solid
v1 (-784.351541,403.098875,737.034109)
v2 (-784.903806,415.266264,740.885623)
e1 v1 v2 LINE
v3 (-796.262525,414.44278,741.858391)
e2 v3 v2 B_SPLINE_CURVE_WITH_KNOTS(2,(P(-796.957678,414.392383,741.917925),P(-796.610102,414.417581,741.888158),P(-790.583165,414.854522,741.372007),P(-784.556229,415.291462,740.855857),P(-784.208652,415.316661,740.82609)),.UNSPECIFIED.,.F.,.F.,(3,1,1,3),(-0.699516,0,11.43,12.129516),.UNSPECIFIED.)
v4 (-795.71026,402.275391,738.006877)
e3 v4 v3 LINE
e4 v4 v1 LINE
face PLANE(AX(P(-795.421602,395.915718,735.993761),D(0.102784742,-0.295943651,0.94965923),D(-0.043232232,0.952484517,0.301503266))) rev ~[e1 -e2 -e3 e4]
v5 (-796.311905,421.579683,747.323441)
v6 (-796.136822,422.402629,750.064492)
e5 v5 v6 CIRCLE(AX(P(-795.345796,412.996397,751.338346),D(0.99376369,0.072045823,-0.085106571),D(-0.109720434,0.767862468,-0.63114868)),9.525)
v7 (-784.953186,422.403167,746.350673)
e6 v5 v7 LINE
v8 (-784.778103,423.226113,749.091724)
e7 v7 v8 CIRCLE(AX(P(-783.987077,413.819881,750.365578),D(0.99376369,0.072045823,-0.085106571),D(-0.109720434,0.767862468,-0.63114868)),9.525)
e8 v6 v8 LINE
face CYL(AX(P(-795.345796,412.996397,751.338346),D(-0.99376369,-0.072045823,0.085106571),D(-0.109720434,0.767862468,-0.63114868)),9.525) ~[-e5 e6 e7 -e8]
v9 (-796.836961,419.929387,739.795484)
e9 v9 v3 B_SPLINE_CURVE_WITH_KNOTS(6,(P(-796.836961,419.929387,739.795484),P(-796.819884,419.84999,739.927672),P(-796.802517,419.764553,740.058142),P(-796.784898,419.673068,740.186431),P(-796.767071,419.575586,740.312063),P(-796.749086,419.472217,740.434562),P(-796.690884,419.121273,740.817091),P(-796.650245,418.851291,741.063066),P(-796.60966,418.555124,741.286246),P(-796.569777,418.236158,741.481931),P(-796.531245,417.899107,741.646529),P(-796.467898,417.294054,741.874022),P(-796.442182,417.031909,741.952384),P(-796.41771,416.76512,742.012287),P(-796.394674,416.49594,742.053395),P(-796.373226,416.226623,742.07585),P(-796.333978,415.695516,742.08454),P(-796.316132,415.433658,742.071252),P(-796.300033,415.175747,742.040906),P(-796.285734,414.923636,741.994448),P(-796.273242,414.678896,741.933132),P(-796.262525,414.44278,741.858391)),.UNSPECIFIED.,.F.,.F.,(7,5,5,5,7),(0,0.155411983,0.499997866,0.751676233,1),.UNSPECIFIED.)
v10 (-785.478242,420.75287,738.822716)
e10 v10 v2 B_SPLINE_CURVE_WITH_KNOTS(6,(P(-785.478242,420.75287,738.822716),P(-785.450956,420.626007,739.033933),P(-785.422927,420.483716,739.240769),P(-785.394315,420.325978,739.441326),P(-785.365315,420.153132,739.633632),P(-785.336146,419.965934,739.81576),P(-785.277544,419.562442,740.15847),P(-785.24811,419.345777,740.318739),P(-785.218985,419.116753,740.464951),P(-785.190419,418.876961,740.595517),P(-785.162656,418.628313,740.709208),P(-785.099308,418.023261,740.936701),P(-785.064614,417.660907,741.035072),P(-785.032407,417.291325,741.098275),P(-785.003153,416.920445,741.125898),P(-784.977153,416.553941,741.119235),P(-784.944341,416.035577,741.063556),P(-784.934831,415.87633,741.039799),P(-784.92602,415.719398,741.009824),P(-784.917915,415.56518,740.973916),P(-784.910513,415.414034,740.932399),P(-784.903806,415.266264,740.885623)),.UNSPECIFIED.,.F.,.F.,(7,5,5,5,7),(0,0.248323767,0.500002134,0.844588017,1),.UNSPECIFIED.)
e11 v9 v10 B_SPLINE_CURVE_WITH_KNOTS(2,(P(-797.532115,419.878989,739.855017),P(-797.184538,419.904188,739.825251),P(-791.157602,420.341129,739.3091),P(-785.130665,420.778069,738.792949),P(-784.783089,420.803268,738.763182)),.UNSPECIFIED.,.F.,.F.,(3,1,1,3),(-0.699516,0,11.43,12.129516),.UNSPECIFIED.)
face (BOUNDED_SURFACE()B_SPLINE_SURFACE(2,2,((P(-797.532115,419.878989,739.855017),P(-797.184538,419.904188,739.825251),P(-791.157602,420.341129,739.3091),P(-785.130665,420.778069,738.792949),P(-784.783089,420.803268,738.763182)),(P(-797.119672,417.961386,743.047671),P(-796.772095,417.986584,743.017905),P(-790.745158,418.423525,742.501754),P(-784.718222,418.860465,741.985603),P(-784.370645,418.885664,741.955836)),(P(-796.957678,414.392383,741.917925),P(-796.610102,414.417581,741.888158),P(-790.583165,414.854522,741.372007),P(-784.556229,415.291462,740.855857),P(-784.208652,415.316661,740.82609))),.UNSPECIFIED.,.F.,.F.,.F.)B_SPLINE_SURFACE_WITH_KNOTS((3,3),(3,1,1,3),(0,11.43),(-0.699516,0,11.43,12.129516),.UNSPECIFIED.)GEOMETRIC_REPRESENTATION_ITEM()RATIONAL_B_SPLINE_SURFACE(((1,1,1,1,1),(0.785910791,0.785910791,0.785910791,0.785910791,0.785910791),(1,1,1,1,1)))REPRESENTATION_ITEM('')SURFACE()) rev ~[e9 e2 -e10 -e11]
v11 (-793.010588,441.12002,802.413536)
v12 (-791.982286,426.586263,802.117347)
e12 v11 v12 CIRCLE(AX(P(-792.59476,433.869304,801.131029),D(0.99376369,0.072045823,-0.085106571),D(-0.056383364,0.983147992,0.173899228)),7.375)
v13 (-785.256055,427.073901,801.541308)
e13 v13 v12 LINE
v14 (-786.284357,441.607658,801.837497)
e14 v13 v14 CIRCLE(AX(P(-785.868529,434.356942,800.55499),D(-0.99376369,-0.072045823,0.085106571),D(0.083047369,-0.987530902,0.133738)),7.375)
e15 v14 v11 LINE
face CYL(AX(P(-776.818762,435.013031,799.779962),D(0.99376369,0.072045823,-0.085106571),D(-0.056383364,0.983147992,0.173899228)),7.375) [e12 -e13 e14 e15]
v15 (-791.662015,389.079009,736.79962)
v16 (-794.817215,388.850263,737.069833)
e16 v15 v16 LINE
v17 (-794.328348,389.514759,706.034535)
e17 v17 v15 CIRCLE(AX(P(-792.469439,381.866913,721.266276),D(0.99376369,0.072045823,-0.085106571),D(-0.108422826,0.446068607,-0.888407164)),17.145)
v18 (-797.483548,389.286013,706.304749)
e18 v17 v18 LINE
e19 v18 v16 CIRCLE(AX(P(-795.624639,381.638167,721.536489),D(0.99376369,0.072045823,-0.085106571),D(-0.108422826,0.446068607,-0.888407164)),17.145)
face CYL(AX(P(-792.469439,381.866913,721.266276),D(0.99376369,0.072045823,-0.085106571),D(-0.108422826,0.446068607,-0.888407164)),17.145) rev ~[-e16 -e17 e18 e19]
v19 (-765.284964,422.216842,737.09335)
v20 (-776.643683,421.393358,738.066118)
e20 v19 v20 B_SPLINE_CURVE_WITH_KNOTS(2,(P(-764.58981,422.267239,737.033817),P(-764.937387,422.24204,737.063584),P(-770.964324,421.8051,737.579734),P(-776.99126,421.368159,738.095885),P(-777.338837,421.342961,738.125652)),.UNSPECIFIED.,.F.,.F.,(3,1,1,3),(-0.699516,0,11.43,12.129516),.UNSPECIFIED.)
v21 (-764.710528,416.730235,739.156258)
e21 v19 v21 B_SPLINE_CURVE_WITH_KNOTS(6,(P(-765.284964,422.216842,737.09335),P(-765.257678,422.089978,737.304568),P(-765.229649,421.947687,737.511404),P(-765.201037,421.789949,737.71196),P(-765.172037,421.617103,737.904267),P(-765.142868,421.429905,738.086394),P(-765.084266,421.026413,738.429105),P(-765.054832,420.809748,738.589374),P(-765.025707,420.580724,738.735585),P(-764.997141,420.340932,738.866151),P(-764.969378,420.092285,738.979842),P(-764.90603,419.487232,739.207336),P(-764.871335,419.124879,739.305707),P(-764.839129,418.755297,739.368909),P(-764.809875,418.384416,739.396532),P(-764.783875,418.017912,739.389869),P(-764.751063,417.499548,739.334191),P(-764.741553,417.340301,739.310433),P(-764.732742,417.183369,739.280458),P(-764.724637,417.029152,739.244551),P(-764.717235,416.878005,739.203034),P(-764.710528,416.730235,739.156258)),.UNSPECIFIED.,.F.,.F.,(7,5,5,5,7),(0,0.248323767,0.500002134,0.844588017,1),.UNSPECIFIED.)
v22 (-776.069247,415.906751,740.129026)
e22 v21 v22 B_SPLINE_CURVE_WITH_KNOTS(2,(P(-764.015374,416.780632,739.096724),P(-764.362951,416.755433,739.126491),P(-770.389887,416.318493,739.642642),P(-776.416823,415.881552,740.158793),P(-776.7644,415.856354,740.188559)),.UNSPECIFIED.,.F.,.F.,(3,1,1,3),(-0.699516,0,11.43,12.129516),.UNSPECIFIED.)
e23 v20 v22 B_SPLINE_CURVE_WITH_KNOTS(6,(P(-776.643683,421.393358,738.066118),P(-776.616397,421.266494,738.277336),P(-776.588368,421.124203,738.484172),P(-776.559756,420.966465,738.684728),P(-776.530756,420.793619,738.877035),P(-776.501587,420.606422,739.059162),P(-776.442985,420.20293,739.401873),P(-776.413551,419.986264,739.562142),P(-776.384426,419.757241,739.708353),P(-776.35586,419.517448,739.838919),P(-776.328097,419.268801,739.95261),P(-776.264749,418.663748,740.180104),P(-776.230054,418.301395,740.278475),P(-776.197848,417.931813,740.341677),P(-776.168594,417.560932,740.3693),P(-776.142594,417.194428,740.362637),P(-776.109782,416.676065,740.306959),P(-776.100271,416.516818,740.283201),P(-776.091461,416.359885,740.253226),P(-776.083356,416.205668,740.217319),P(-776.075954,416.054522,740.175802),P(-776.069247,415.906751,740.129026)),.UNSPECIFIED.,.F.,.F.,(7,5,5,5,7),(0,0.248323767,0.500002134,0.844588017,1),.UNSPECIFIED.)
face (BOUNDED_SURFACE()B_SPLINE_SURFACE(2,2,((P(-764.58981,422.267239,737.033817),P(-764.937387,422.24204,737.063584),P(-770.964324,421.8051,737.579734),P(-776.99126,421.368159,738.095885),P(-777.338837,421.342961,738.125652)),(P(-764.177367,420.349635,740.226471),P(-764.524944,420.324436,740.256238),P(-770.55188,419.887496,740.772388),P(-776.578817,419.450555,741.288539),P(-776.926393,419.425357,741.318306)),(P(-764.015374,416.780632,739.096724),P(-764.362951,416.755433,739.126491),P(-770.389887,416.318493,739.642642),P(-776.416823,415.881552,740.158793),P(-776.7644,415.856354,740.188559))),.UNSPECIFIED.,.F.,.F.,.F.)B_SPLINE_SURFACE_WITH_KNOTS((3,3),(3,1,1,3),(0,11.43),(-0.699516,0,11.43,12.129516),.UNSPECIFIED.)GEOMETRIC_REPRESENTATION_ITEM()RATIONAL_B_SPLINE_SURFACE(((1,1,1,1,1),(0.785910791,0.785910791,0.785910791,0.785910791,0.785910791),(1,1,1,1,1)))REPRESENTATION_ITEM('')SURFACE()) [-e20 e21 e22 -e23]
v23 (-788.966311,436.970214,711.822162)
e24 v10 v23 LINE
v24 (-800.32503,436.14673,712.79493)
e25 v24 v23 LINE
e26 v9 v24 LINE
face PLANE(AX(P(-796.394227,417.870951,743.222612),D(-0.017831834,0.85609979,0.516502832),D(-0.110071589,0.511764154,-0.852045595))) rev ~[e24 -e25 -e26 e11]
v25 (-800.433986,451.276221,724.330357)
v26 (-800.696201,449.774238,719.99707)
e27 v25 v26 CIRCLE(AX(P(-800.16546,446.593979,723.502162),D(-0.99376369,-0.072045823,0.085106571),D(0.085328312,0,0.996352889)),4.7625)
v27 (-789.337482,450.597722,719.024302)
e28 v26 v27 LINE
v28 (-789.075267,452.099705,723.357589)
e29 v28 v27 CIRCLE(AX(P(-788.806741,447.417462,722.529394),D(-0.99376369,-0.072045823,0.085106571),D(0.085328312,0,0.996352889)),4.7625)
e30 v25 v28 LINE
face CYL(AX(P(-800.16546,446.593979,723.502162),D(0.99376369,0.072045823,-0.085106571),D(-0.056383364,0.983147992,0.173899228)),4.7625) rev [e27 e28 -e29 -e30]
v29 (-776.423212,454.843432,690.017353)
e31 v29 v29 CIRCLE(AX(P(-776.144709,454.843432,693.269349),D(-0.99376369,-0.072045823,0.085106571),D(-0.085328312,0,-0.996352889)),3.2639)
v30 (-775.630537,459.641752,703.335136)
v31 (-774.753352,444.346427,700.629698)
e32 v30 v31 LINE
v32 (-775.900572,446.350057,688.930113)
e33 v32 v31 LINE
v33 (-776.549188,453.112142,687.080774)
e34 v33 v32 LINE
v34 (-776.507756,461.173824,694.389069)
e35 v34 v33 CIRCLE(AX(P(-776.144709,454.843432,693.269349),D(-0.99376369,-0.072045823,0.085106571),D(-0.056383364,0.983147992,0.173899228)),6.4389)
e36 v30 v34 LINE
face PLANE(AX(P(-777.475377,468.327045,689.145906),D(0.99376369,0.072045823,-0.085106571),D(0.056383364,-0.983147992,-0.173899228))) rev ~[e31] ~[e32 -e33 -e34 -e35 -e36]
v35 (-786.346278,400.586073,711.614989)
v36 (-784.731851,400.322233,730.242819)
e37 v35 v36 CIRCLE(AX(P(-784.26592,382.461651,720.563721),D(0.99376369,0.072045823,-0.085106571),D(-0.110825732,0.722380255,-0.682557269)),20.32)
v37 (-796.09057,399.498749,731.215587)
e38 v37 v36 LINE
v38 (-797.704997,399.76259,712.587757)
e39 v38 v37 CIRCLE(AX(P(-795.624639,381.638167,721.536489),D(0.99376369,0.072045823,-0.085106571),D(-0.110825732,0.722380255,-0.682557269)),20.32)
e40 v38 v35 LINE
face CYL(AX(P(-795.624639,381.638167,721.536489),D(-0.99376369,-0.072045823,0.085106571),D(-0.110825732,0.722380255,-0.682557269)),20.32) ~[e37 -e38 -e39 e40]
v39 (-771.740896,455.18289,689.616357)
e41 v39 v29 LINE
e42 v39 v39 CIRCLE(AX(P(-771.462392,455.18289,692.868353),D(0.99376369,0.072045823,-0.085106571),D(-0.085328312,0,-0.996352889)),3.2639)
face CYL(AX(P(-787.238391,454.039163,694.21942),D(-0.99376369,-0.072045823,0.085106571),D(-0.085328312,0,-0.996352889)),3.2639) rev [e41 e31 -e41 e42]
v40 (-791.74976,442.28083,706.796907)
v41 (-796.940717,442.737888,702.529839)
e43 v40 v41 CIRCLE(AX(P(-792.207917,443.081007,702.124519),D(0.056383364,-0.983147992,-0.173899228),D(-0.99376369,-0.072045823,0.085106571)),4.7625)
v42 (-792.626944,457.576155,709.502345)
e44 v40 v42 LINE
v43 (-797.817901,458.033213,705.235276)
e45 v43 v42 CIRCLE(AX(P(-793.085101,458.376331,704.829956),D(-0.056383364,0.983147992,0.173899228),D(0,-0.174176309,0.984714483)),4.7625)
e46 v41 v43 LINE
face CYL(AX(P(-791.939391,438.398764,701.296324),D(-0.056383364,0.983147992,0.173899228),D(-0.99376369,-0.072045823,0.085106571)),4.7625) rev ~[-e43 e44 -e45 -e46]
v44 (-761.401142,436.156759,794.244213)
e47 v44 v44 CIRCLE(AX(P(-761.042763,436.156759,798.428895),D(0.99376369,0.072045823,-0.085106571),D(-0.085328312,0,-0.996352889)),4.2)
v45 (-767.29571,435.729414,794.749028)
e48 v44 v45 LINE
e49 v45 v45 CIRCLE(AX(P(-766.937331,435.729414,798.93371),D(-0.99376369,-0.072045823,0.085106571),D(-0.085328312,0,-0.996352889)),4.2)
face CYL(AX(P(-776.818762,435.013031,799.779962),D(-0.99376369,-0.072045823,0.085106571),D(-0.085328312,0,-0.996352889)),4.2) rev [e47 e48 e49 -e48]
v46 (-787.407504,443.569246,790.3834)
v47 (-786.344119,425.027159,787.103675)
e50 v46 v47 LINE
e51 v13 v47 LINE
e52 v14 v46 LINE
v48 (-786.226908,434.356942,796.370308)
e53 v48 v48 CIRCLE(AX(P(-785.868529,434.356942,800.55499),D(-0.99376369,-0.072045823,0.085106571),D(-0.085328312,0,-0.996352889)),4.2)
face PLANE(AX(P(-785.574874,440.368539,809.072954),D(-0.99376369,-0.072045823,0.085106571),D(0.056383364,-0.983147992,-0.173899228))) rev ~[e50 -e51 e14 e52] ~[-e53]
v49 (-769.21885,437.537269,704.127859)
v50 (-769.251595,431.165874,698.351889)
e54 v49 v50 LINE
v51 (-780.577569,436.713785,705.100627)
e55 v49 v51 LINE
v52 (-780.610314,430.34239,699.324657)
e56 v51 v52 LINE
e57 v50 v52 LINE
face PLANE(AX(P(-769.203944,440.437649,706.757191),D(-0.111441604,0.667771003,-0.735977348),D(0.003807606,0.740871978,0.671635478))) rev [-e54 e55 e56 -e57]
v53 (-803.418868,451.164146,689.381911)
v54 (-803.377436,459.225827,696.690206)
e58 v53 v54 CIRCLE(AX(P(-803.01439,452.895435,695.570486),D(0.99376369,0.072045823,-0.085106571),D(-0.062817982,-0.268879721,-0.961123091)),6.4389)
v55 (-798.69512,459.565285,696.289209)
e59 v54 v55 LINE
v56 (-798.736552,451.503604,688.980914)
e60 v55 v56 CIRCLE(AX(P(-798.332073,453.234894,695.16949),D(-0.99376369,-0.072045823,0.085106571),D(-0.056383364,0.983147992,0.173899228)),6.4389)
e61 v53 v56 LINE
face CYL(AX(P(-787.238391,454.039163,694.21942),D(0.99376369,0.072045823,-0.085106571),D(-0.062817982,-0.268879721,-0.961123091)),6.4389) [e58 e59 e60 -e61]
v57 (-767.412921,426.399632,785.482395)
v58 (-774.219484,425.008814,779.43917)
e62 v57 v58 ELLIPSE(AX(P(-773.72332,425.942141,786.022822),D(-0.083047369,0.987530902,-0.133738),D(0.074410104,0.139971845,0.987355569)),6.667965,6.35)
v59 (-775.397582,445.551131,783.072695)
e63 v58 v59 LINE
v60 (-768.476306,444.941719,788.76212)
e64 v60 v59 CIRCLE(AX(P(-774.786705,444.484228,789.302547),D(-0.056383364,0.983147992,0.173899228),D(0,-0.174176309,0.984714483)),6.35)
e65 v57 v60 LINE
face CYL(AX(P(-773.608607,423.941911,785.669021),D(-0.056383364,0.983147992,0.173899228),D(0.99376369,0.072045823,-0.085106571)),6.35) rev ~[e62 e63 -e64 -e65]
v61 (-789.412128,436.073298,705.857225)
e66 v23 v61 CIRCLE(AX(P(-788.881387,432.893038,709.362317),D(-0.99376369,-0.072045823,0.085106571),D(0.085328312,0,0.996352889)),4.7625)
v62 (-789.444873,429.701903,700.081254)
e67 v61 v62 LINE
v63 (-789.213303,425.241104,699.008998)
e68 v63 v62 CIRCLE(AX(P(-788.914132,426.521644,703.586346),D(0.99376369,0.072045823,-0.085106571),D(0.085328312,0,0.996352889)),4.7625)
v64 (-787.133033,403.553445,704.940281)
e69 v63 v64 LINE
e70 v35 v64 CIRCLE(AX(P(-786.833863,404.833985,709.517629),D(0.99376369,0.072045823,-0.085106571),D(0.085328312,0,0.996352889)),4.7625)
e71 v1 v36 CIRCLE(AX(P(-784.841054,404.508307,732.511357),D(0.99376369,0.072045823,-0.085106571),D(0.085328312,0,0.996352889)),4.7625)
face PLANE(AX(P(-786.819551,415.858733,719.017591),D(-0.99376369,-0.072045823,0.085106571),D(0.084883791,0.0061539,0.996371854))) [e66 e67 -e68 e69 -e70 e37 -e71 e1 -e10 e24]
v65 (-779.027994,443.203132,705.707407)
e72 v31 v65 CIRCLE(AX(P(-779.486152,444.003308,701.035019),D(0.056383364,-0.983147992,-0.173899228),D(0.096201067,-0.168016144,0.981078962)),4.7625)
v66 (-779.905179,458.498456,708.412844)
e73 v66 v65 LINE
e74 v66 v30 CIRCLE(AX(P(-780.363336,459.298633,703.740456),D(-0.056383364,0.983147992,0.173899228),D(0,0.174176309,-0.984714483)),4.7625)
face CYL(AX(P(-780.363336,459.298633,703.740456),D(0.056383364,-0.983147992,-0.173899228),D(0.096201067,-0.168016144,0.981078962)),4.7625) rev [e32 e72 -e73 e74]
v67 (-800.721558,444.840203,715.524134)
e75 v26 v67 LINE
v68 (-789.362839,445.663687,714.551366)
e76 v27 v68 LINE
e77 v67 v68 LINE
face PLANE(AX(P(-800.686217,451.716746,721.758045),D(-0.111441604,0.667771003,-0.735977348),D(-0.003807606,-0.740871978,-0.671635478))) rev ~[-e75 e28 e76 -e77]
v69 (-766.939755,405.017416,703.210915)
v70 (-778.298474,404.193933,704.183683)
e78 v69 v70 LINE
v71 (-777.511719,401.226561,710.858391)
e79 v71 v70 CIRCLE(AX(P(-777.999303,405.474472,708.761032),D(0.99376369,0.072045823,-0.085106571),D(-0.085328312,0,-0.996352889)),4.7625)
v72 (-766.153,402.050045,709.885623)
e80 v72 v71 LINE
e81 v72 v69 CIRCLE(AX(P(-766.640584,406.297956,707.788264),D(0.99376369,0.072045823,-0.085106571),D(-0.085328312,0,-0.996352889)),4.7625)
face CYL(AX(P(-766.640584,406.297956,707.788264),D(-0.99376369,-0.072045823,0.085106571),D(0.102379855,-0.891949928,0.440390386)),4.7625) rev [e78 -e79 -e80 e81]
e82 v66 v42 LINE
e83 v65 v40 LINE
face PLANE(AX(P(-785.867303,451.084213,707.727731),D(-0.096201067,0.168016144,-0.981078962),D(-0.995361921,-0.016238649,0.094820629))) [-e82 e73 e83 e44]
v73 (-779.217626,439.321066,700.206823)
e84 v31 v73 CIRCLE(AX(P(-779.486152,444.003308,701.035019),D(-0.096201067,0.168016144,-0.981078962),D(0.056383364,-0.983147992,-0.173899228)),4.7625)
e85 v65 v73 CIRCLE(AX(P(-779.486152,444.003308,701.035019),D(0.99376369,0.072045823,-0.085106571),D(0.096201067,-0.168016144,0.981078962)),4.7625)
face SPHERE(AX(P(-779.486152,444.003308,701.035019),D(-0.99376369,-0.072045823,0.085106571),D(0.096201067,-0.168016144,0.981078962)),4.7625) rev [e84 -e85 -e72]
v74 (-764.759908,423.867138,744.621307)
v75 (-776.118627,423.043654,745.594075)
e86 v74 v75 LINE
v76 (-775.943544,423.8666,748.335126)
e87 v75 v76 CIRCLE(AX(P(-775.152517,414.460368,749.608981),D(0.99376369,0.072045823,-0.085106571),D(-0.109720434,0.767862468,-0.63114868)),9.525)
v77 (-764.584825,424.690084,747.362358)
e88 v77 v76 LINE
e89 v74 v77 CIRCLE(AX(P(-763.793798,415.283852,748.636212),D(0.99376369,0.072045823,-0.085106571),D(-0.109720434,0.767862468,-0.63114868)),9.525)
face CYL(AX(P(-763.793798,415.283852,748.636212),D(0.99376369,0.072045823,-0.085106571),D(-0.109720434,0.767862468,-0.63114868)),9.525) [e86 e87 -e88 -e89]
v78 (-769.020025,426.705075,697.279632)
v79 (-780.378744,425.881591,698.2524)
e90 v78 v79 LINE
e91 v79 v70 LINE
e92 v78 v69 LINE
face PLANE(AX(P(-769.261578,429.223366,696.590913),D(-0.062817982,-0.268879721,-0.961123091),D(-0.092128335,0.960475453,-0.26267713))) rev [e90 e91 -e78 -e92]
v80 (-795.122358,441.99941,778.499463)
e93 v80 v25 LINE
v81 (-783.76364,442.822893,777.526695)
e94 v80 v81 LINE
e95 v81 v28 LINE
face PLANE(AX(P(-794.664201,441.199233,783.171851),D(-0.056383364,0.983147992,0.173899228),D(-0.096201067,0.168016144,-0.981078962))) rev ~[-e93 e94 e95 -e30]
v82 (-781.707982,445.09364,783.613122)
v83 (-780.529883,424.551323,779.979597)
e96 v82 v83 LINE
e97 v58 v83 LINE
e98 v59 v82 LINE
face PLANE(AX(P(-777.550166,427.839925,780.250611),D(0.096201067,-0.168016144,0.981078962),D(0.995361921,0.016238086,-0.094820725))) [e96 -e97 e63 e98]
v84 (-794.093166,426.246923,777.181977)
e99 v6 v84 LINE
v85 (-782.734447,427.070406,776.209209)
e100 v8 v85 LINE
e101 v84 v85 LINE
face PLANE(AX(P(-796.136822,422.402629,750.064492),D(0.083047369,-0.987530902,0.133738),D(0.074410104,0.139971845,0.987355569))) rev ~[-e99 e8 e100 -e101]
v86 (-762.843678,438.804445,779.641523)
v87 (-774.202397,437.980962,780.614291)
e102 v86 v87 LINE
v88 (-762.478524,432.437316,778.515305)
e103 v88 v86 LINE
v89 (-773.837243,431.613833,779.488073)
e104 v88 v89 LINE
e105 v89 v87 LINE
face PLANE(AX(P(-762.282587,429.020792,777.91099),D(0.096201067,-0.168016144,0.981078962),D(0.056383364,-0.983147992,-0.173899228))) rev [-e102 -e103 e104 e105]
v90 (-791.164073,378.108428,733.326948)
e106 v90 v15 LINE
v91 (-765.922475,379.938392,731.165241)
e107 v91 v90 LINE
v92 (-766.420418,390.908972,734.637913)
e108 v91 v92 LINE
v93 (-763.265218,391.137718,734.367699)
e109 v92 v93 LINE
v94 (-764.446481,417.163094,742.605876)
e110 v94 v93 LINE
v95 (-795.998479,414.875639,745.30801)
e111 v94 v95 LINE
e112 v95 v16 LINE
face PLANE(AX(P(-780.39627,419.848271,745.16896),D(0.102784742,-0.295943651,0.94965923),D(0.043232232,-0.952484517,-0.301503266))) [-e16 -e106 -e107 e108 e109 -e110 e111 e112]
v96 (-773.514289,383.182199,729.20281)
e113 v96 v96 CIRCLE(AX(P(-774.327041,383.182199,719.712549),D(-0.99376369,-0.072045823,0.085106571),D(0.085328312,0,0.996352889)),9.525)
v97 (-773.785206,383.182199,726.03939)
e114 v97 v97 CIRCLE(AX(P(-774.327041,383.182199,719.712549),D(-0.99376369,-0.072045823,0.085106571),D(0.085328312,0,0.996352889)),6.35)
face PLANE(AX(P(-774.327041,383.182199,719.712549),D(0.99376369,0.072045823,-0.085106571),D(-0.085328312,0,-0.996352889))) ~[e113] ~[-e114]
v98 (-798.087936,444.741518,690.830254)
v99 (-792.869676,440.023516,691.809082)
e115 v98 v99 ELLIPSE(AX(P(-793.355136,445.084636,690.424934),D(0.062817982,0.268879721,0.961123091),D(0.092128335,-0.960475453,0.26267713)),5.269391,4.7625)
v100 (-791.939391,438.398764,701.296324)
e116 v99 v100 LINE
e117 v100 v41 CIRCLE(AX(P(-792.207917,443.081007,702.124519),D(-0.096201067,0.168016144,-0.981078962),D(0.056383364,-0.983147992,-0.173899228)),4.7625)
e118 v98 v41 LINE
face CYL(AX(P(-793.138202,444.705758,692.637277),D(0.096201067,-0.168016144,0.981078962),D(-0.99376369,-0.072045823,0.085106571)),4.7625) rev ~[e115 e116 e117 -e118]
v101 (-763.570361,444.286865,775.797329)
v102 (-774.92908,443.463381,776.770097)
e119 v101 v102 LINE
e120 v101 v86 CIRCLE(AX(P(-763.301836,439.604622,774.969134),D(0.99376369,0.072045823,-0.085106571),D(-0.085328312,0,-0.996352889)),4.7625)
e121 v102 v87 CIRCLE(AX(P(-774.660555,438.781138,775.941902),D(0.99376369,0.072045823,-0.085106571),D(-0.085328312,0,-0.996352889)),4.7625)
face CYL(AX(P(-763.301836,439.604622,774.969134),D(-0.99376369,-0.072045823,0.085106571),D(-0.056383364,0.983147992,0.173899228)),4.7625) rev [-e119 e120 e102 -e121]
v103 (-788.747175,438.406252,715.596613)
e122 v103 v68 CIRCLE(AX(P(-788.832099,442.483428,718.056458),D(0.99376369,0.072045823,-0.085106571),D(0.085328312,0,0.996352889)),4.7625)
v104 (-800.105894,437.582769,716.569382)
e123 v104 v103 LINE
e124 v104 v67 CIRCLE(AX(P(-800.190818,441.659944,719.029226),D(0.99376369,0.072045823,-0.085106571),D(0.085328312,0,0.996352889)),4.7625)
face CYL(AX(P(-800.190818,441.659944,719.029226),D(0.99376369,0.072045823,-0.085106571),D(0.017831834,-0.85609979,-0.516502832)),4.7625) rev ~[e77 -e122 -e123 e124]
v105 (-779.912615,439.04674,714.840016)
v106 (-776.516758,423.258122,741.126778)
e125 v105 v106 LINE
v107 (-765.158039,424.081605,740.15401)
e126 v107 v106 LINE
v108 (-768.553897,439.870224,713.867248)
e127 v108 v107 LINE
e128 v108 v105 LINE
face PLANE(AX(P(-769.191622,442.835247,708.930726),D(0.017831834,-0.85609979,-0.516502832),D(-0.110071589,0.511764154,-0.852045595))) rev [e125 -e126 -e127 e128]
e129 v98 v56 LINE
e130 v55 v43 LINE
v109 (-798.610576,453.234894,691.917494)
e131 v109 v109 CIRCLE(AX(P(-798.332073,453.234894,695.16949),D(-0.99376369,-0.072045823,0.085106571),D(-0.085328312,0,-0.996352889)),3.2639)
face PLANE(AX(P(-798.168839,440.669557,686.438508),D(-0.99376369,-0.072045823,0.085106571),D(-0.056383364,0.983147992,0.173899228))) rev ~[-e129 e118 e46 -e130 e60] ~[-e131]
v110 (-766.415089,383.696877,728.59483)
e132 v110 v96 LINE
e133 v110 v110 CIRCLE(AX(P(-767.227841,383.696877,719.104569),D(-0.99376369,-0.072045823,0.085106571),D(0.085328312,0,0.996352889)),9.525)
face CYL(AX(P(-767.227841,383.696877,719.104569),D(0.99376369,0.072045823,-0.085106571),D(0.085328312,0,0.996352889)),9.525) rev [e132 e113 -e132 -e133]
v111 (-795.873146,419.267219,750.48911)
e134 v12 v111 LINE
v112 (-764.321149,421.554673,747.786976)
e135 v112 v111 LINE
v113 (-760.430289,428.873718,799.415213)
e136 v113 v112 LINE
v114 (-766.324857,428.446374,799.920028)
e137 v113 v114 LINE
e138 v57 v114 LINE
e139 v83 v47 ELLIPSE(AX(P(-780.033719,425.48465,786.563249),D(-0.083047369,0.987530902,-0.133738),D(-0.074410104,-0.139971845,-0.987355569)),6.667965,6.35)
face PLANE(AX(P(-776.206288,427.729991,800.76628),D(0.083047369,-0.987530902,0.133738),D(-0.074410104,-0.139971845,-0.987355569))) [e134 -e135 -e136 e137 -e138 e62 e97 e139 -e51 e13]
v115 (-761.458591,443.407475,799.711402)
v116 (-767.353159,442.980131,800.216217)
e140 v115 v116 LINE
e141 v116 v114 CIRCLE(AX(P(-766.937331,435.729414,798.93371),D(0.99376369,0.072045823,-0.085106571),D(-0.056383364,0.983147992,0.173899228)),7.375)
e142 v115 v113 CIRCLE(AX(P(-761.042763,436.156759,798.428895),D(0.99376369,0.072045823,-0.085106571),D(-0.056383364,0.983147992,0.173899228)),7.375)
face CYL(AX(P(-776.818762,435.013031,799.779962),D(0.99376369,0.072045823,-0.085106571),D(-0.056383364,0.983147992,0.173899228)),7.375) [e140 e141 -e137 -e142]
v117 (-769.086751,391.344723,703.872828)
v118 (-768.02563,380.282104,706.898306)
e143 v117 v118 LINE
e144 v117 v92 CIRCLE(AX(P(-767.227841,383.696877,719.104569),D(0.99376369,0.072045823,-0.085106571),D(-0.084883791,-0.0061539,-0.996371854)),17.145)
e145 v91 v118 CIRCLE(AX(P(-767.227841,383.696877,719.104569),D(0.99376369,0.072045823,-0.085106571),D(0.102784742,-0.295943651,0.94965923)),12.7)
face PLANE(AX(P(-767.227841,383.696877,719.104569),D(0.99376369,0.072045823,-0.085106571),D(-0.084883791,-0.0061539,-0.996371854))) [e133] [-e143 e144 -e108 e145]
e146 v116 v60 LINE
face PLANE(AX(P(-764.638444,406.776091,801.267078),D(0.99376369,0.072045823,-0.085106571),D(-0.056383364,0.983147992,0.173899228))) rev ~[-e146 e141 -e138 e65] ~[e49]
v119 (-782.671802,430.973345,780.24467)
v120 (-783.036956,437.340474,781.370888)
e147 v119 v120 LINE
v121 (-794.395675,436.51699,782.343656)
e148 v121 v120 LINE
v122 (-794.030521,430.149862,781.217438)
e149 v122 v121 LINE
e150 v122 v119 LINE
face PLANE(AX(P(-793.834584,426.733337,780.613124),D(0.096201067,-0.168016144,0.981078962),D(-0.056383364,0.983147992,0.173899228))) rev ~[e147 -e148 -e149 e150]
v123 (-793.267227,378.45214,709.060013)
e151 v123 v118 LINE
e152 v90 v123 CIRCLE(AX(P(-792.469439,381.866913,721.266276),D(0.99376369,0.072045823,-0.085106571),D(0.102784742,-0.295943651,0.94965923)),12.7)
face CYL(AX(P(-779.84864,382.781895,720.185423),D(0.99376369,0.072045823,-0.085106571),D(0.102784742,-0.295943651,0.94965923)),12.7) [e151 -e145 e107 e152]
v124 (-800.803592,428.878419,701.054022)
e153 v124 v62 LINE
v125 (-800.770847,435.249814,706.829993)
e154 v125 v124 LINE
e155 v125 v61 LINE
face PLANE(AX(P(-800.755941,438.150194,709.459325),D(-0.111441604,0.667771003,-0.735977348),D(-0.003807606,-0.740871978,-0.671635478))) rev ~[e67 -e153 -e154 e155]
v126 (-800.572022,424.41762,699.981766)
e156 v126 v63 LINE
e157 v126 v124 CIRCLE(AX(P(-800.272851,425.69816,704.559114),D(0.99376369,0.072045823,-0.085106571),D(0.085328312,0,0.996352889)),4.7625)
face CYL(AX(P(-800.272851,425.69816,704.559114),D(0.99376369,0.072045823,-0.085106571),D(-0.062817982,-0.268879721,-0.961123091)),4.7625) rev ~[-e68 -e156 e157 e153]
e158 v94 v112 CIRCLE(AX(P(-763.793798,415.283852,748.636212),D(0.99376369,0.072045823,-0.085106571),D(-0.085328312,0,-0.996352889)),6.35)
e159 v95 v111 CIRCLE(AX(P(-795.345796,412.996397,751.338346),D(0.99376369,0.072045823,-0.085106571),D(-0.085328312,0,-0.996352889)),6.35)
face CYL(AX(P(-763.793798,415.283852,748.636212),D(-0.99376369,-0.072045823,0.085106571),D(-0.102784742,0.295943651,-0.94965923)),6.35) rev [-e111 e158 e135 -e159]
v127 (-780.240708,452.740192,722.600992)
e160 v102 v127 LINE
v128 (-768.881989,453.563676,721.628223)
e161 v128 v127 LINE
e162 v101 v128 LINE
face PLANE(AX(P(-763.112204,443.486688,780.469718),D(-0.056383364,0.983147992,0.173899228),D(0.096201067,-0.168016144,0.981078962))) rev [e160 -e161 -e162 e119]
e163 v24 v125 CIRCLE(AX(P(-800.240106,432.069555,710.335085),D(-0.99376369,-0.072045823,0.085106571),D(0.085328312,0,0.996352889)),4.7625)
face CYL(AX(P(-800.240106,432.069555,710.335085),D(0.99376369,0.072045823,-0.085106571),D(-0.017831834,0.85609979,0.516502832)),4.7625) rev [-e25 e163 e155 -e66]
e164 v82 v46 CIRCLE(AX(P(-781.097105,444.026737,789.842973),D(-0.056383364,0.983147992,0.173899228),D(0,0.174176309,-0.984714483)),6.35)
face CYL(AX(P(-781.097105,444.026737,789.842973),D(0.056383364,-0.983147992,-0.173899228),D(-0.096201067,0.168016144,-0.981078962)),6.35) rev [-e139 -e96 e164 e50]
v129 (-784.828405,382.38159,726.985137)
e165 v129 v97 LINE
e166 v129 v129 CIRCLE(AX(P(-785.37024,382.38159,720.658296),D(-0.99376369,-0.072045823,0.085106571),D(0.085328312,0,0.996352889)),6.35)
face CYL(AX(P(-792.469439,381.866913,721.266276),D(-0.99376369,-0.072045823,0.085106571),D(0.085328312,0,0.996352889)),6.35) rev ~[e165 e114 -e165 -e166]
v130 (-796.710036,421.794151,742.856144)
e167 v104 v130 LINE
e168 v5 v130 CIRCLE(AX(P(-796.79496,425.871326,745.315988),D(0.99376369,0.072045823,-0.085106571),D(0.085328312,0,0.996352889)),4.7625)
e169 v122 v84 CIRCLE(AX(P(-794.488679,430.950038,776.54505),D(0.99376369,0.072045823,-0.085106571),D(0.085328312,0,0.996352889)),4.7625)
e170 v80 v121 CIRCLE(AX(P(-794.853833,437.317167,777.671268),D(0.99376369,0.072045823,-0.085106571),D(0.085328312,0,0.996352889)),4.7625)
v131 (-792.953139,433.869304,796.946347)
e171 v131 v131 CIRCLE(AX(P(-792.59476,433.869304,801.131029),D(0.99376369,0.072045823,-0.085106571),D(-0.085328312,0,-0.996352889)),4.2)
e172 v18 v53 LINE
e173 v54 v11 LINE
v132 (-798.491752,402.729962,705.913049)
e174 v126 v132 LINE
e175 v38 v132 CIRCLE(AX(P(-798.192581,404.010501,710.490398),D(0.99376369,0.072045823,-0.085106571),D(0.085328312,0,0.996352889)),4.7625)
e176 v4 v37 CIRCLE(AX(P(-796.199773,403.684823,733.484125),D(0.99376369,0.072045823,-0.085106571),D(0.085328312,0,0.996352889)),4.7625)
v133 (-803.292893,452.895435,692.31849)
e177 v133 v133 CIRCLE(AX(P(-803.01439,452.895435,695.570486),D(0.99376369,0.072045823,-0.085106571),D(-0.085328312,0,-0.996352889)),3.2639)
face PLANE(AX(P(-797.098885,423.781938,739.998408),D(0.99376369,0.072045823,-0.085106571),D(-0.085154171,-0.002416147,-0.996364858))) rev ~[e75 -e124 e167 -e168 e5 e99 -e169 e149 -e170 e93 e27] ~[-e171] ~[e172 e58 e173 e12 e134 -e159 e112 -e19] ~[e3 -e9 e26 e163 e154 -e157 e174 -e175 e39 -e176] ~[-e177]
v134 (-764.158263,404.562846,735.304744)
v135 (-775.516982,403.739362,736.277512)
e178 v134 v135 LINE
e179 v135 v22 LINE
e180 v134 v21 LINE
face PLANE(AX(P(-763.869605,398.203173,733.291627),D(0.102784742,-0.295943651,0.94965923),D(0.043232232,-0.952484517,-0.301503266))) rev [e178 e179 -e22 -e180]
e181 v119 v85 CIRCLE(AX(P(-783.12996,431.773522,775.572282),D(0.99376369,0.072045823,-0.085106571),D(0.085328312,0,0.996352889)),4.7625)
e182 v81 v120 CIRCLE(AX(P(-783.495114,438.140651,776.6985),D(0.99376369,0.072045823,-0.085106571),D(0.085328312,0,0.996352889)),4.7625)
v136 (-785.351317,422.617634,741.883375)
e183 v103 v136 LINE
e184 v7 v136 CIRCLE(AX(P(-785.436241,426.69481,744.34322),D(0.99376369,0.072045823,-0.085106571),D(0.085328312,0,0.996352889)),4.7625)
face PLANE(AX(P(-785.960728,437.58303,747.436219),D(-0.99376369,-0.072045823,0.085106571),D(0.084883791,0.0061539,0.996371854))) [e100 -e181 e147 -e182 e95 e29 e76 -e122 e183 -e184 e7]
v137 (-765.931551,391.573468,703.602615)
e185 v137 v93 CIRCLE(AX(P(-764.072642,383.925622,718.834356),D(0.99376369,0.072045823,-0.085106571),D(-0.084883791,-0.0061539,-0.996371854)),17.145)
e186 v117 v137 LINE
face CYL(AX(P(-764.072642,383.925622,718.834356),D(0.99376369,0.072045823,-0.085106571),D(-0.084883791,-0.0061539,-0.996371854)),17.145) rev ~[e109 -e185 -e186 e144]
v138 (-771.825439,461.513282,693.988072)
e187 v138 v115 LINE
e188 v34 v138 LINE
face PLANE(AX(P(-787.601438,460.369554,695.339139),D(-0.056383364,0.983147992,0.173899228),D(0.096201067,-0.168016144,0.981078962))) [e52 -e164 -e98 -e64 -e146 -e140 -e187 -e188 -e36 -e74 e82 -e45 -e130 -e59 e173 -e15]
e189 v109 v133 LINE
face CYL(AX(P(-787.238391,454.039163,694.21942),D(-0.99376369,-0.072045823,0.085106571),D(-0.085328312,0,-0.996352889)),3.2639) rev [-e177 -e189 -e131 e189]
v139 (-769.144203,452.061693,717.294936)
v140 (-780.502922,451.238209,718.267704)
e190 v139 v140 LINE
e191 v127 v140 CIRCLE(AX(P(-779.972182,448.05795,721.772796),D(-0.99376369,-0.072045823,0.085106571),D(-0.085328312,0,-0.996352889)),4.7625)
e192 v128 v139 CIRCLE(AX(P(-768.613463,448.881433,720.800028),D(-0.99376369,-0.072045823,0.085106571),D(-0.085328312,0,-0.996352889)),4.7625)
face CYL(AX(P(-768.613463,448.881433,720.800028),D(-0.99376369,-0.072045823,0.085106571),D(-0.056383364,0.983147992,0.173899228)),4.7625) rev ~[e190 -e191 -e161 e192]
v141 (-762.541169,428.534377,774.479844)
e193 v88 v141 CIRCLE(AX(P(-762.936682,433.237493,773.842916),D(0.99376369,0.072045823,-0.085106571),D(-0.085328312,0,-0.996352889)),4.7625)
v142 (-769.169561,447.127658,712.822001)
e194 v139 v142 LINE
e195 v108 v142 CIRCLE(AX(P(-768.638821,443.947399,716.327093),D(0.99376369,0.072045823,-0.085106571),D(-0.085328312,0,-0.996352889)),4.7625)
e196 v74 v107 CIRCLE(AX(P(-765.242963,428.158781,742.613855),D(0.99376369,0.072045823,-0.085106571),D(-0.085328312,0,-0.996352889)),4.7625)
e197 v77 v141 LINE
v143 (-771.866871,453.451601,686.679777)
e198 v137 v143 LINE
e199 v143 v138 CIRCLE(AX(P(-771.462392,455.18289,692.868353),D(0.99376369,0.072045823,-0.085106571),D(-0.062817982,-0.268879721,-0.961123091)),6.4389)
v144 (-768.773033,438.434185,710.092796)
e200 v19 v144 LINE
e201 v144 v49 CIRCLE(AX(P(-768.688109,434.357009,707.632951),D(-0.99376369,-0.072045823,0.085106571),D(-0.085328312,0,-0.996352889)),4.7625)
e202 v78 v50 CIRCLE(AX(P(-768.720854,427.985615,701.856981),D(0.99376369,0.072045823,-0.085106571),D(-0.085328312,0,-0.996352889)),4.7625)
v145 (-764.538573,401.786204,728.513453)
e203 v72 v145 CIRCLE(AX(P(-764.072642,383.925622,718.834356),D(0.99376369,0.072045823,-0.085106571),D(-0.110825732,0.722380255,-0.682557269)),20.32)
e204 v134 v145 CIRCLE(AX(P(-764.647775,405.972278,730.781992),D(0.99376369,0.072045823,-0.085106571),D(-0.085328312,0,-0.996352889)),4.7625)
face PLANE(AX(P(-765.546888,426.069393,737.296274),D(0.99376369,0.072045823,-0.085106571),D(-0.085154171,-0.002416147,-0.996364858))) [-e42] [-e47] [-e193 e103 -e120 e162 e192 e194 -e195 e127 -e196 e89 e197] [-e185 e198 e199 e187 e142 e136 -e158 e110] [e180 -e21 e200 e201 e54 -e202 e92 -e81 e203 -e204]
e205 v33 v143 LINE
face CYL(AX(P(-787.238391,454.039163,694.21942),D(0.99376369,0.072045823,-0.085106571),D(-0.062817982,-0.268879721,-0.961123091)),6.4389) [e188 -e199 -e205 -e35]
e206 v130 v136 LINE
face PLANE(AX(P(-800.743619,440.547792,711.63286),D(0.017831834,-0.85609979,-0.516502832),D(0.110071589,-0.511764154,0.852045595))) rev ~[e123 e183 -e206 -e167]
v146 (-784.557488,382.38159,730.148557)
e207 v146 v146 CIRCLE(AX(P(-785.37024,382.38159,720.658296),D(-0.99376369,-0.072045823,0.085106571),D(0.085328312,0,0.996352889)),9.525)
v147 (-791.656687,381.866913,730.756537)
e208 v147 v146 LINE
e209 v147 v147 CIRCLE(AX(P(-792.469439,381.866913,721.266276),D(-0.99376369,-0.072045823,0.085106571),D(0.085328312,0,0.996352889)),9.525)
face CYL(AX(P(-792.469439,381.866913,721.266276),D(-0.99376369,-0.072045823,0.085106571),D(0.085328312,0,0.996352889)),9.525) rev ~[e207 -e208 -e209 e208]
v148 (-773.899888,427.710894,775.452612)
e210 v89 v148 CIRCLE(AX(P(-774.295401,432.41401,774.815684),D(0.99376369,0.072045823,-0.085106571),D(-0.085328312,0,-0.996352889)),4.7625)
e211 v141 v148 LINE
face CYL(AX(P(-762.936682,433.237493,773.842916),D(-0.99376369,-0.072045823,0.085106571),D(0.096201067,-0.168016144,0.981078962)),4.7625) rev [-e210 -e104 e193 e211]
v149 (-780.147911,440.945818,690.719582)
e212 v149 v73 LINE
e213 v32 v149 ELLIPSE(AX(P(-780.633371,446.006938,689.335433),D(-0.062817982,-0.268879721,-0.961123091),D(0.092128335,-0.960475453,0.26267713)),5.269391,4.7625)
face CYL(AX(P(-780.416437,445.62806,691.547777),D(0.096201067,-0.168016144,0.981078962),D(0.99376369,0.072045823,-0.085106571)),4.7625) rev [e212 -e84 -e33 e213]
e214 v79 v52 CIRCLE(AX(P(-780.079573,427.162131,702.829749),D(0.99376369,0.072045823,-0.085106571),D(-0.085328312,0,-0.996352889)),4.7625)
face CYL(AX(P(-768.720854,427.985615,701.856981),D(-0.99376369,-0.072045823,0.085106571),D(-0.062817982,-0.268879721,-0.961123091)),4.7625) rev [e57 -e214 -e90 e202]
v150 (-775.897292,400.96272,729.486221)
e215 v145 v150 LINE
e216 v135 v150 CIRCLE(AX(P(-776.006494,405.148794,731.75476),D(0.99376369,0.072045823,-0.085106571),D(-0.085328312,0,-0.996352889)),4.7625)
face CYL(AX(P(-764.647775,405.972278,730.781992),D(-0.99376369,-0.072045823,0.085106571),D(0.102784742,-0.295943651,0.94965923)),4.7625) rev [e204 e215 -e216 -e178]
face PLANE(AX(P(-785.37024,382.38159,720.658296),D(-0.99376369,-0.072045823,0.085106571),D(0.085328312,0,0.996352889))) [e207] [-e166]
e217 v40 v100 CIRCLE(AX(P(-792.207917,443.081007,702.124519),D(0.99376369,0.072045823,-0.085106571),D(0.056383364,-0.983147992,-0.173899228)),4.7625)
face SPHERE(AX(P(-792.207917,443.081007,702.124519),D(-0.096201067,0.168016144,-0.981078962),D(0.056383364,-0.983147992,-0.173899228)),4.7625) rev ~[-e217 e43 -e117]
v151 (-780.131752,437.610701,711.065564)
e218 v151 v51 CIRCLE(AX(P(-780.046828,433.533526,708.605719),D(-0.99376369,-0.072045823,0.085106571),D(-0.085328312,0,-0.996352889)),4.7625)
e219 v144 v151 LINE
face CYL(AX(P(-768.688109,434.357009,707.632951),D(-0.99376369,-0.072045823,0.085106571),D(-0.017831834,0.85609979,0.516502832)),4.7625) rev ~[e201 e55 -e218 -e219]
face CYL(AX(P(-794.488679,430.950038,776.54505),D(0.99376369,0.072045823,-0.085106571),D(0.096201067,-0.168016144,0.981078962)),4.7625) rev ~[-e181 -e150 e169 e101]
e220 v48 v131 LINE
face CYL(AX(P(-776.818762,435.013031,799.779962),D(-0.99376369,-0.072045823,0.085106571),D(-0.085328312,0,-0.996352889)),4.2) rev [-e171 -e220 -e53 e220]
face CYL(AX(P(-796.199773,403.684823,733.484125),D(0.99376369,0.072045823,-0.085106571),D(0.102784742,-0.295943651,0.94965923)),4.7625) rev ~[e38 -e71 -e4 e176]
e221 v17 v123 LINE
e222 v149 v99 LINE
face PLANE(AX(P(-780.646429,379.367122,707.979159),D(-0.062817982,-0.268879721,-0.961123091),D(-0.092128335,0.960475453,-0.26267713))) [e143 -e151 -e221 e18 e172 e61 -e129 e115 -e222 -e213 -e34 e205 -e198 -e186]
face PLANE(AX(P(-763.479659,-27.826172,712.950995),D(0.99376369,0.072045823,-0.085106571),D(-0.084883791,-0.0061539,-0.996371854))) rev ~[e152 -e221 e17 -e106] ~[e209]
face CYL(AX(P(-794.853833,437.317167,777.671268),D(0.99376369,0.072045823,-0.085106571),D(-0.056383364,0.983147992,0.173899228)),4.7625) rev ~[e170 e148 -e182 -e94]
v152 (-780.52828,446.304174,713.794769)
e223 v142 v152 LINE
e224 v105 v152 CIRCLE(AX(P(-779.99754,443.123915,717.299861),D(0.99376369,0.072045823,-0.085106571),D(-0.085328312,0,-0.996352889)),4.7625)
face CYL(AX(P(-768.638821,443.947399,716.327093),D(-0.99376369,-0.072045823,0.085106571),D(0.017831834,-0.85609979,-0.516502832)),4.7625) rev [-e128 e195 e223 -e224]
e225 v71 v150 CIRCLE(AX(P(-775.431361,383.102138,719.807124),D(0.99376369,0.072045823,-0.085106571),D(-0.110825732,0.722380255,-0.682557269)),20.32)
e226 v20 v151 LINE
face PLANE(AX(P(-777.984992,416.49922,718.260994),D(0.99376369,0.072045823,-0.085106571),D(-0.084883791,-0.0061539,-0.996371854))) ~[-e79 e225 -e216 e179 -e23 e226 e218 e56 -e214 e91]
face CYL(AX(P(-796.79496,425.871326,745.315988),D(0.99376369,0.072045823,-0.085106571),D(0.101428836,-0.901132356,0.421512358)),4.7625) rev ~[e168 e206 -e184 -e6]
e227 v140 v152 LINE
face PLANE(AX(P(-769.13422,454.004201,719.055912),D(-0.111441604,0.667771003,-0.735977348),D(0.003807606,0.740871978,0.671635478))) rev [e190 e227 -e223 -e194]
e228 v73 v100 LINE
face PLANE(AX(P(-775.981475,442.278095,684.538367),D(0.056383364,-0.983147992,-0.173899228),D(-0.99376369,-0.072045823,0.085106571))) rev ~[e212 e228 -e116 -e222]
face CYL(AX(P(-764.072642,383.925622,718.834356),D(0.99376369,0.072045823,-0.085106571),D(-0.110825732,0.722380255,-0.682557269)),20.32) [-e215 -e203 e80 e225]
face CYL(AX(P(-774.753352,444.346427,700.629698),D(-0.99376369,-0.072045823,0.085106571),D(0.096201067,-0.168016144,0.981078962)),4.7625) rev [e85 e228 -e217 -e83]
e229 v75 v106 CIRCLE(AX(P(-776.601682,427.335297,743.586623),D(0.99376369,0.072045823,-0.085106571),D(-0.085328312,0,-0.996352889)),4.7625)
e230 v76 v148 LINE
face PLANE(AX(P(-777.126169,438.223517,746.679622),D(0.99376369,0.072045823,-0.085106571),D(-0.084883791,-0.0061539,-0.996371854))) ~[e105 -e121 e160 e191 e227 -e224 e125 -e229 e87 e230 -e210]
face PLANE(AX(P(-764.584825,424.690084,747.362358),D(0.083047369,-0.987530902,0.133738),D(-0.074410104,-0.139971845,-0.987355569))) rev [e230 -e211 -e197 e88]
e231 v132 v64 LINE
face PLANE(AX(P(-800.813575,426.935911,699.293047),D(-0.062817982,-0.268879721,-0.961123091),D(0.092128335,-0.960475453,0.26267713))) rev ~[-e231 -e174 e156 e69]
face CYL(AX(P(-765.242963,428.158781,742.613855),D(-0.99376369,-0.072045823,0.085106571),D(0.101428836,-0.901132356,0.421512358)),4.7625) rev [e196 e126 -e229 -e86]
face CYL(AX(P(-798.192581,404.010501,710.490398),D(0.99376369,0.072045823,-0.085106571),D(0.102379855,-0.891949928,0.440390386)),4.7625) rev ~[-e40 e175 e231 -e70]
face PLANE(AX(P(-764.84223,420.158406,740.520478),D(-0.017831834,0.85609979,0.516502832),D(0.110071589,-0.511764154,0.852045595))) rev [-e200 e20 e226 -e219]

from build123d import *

# Parameters (mm, degrees)
SKETCH1_R               = 3.263900000000121
SKETCH1_R_2             = 4.199999999999976
BOSS_EXTRUDE1_DEPTH     = 15.875
FILLET7_R               = 6.35
CUT_EXTRUDE6_DEPTH      = 25.4
FILLET8_R               = 6.35
CUT_EXTRUDE8_DEPTH      = 20.32
CUT_EXTRUDE9_DEPTH      = 906.5663752758251
CUT_EXTRUDE9_DEPTH_BACK = 3.175
CUT_EXTRUDE10_DEPTH     = 11.43
SKETCH29_R              = 6.349999999999941
CUT_EXTRUDE11_DEPTH     = 906.4543212392226
SKETCH30_R              = 9.525000000000018
CUT_EXTRUDE12_DEPTH     = 7.14375
FILLET10_R              = 4.7625
FILLET10_OF_MIRROR9_R   = 4.7625
SKETCH33_R              = 17.144999999999648
CUT_EXTRUDE14_DEPTH     = 3.175
FILLET11_R              = 4.7625


with BuildPart() as part:
    # Sketch1 → Boss-Extrude1 (new, symmetric)
    with BuildSketch(Plane(origin=(-803.6566332789141, -58.26345281012812, 68.82567852426239), x_dir=(-0.08515417095162939, -0.00241614660156225, -0.9963648575723355), z_dir=(0.9937636896807375, 0.07204582335356381, -0.08510657089457987))):
        with BuildLine():
            ThreePointArc((-664.2038450226969, 436.8184776127322), (-651.8745198787159, 427.9178662715624), (-639.8468613838354, 437.2220896073974))
            Line((-639.8468613838348, 437.2220896073972), (-619.5515204929051, 510.40226291213133))
            ThreePointArc((-619.5515204929051, 510.40226291213133), (-620.9838530756886, 516.4455246988489), (-626.8562553144544, 518.4672768094307))
            Line((-626.8562553144544, 518.4672768094307), (-733.0342996841451, 500.0570320892499))
            ThreePointArc((-733.0342996841451, 500.05703208924996), (-739.1483230926673, 492.6676503574812), (-732.7916358037484, 485.48595339028384))
            Line((-732.7916358037484, 485.4859533902838), (-677.0205822251494, 477.71877799538424))
            Line((-677.0205822251494, 477.71877799538424), (-664.2038450226976, 436.81847761273195))
        make_face()
        with Locations(Location((-625.7562257117465, 512.1230378414245, 0), (0, 0, 0.138795824))):
            Circle(SKETCH1_R, mode=Mode.SUBTRACT)
        with Locations(Location((-731.7743456050367, 492.79045512904787, 0), (0, 0, 0.138795824))):
            Circle(SKETCH1_R_2, mode=Mode.SUBTRACT)
    extrude(amount=BOSS_EXTRUDE1_DEPTH, both=True)

    # Fillet7
    fillet7_edges = [part.edges().sort_by_distance(p)[0] for p in [
        (-780.3962698306742, 419.8482713749311, 745.1689599242694),
    ]]
    fillet(fillet7_edges, radius=FILLET7_R)

    # Sketch23 → Cut-Extrude6 (cut)
    with BuildSketch(Plane(origin=(61.972947811989165, -108.2363846344534, 632.0133130126799), x_dir=(0.9953619214294605, 0.016238085990304504, -0.09482072522199067), z_dir=(0.09620106739496219, -0.16801614414720037, 0.9810789621319872))):
        Polygon((-851.4974580179244, 570.6197226277428), (-849.4828619685262, 535.112578894877), (-830.4634507696352, 536.1916978167321), (-832.4780468190336, 571.698841549598), align=None)
    extrude(amount=-CUT_EXTRUDE6_DEPTH, mode=Mode.SUBTRACT)

    # Fillet8
    fillet8_edges = [part.edges().sort_by_distance(p)[0] for p in [
        (-768.4981336258412, 435.7374633830816, 780.7155057686616),
        (-787.4293319142591, 434.3649904481962, 782.3367859442033),
    ]]
    fillet(fillet8_edges, radius=FILLET8_R)

    # Sketch26 → Cut-Extrude8 (cut)
    with BuildSketch(Plane(origin=(50.277187193507835, -87.80961957666034, 512.7374567291475), x_dir=(-0.9953619214296225, -0.01623864853432569, 0.09482062888268945), z_dir=(-0.0962010673949623, 0.16801614414720273, -0.9810789621319869))):
        Polygon((831.6096354550859, 577.9339524783938), (830.1087716603103, 551.4810443146557), (852.3995223072293, 550.2163296603253), (853.9003861020049, 576.6692378240637), align=None)
    extrude(amount=-CUT_EXTRUDE8_DEPTH, mode=Mode.SUBTRACT)

    # Sketch27 → Cut-Extrude9 (cut, two sides: drawn at the far end of the back side and taken through both)
    with BuildSketch(Plane(origin=(-819.4326318525958, -59.40718025586634, 70.17674533721406), x_dir=(0.08488379068765259, 0.006153900220914947, 0.9963718540738522), z_dir=(-0.9937636896807374, -0.07204582335356426, 0.08510657089458012)).offset(-CUT_EXTRUDE9_DEPTH_BACK)):
        with BuildLine():
            Line((519.6219025840122, 211.91880941976535), (638.4443725730704, 445.9315686732567))
            ThreePointArc((638.4443725730704, 445.9315686732567), (654.0798834896251, 455.31078922151056), (669.3214837157453, 445.3041613048935))
            Line((669.3214837157453, 445.3041613048935), (778.5397566596026, 206.65772885116039))
            Line((778.5397566596026, 206.65772885116039), (767.8761958936219, -318.1367946937436))
            Line((767.8761958936219, -318.1367946937436), (508.95834181803144, -312.87571412513864))
            Line((508.95834181803144, -312.87571412513864), (519.6219025840122, 211.91880941976535))
        make_face()
    extrude(amount=CUT_EXTRUDE9_DEPTH + CUT_EXTRUDE9_DEPTH_BACK, mode=Mode.SUBTRACT)

    # Sketch28 → Cut-Extrude10 (cut)
    with BuildSketch(Plane(origin=(-819.4326318525959, -59.40718025586635, 70.17674533721406), x_dir=(0.08488379068765257, 0.006153900220914946, 0.9963718540738522), z_dir=(-0.9937636896807375, -0.07204582335356424, 0.08510657089458012))):
        with BuildLine():
            Line((641.610435680991, 494.9044603779857), (631.4071387526498, 483.7236998843152))
            Line((631.4071387526498, 483.7236998843152), (639.8115098751724, 452.97250675062605))
            ThreePointArc((639.8115098751724, 452.97250675062605), (654.1443845784224, 458.48513397429696), (668.241493429274, 452.3948237840471))
            Line((668.2414934292741, 452.39482378404716), (674.5635114397776, 472.307585723845))
            ThreePointArc((674.5635114397776, 472.307585723845), (674.9689897543286, 473.36298990652836), (675.4966669350005, 474.3629136263164))
            Line((675.4966669350005, 474.3629136263164), (641.6104356809909, 494.90446037798574))
        make_face()
        with BuildLine():
            Line((653.9539402363619, 508.43045781346063), (643.7918856391113, 497.29489061656125))
            Line((643.7918856391113, 497.2948906165613), (677.6083716229516, 476.79562285771186))
            ThreePointArc((677.6083716229516, 476.79562285771186), (679.842443438827, 478.15968717889757), (682.3634605019174, 478.8641169613652))
            Line((682.3634605019174, 478.8641169613652), (713.0233309253331, 483.01701779228154))
            Line((713.0233309253331, 483.0170177922816), (715.5913760089414, 497.50503494976147))
            Line((715.5913760089414, 497.50503494976147), (653.9539402363619, 508.4304578134607))
        make_face()
    cut_extrude10 = extrude(amount=-CUT_EXTRUDE10_DEPTH, mode=Mode.SUBTRACT)

    # Sketch29 → Cut-Extrude11 (cut, through all)
    with BuildSketch(Plane(origin=(-816.2774321378597, -59.1784347667188, 69.90653197462377), x_dir=(0.08488379068765259, 0.006153900220914947, 0.9963718540738522), z_dir=(-0.9937636896807374, -0.07204582335356423, 0.08510657089458012))):
        with Locations(Location((653.7315776101187, 438.16932755646275, 0), (0, 0, 359.646486586))):
            Circle(SKETCH29_R)
    extrude(amount=-CUT_EXTRUDE11_DEPTH, mode=Mode.SUBTRACT)

    # Sketch30 → Cut-Extrude12 (cut)
    with BuildSketch(Plane(origin=(-816.2774321378599, -59.178434766718816, 69.90653197462377), x_dir=(0.08488379068765257, 0.006153900220914946, 0.9963718540738522), z_dir=(-0.9937636896807375, -0.07204582335356424, 0.08510657089458012))):
        with Locations(Location((653.7315776101187, 438.16932755646275, 0), (0, 0, 359.646486586))):
            Circle(SKETCH30_R)
    cut_extrude12 = extrude(amount=-CUT_EXTRUDE12_DEPTH, mode=Mode.SUBTRACT)

    # Fillet10
    fillet10_edges = [part.edges().sort_by_distance(p)[0] for p in [
        (-788.1552248280682, 427.1450787260482, 780.1267395165396),
        (-788.9848414044336, 441.61097464981503, 782.6854673578397),
        (-795.0068579123044, 452.1284878234392, 721.2716611967566),
        (-795.0642591647301, 440.95953350372866, 711.1464760164944),
        (-790.7115231509628, 420.72202917254344, 744.8402708544758),
        (-789.7422422016995, 396.3274603010962, 735.5073770617572),
        (-792.1972581719219, 396.7286758070525, 707.180541636668),
        (-790.7148679020396, 418.2826927308667, 742.7362277392854),
        (-795.0765812752346, 438.5619361773402, 708.9729406771527),
        (-795.1342154885674, 427.347653060428, 698.8066627989953),
    ]]
    fillet(fillet10_edges, radius=FILLET10_R)

    # Mirror9: Cut-Extrude10, Cut-Extrude12 across plane
    add(cut_extrude10.mirror(Plane(origin=(-803.6566332789141, -58.26345281012812, 68.82567852426239), x_dir=(0.08488379068765235, 0.00615390022091489, 0.9963718540738523), z_dir=(0.9937636896807375, 0.07204582335356381, -0.08510657089457987))), mode=Mode.SUBTRACT)
    add(cut_extrude12.mirror(Plane(origin=(-803.6566332789141, -58.26345281012812, 68.82567852426239), x_dir=(0.08488379068765235, 0.00615390022091489, 0.9963718540738523), z_dir=(0.9937636896807375, 0.07204582335356381, -0.08510657089457987))), mode=Mode.SUBTRACT)

    # Fillet10 of Mirror9
    fillet10_of_mirror9_edges = [part.edges().sort_by_distance(p)[0] for p in [
        (-767.9619466537554, 428.60904985659255, 778.3973739959619),
        (-768.7915632301208, 443.0749457803594, 780.9561018372618),
        (-774.8135797379914, 453.59245895398357, 719.5422956761787),
        (-774.870980990417, 442.4235046342731, 709.4171104959165),
        (-770.5182449766497, 422.18600030308784, 743.1109053338979),
        (-769.5489640273865, 397.79143143164066, 733.7780115411794),
        (-772.0039799976088, 398.192646937597, 705.4511761160901),
        (-770.5215897277267, 419.74666386141104, 741.0068622187075),
        (-774.8833031009216, 440.02590730788467, 707.2435751565748),
        (-774.9409373142544, 428.8116241909724, 697.0772972784174),
    ]]
    fillet(fillet10_of_mirror9_edges, radius=FILLET10_OF_MIRROR9_R)

    # Sketch33 → Cut-Extrude14 (cut)
    with BuildSketch(Plane(origin=(-787.8806347052326, -57.119725364390696, 67.47461171131114), x_dir=(-0.08488379068765259, -0.006153900220914947, -0.9963718540738522), z_dir=(0.9937636896807374, 0.07204582335356423, -0.08510657089458012))):
        with Locations((-653.7315776101188, 438.1693275564627)):
            Circle(SKETCH33_R)
    extrude(amount=-CUT_EXTRUDE14_DEPTH, mode=Mode.SUBTRACT)

    # Fillet11
    fillet11_edges = [part.edges().sort_by_distance(p)[0] for p in [
        (-796.9082546128618, 438.46793345177383, 699.2942172907788),
        (-785.1203512694295, 438.0597382877858, 705.4239621272485),
        (-796.7868884418211, 447.2442527490892, 708.1408484710828),
        (-774.5995240477952, 448.852791028775, 706.240708105348),
        (-774.720890218836, 440.07647173145955, 697.3940769250439),
    ]]
    fillet(fillet11_edges, radius=FILLET11_R)


solid = part.part
